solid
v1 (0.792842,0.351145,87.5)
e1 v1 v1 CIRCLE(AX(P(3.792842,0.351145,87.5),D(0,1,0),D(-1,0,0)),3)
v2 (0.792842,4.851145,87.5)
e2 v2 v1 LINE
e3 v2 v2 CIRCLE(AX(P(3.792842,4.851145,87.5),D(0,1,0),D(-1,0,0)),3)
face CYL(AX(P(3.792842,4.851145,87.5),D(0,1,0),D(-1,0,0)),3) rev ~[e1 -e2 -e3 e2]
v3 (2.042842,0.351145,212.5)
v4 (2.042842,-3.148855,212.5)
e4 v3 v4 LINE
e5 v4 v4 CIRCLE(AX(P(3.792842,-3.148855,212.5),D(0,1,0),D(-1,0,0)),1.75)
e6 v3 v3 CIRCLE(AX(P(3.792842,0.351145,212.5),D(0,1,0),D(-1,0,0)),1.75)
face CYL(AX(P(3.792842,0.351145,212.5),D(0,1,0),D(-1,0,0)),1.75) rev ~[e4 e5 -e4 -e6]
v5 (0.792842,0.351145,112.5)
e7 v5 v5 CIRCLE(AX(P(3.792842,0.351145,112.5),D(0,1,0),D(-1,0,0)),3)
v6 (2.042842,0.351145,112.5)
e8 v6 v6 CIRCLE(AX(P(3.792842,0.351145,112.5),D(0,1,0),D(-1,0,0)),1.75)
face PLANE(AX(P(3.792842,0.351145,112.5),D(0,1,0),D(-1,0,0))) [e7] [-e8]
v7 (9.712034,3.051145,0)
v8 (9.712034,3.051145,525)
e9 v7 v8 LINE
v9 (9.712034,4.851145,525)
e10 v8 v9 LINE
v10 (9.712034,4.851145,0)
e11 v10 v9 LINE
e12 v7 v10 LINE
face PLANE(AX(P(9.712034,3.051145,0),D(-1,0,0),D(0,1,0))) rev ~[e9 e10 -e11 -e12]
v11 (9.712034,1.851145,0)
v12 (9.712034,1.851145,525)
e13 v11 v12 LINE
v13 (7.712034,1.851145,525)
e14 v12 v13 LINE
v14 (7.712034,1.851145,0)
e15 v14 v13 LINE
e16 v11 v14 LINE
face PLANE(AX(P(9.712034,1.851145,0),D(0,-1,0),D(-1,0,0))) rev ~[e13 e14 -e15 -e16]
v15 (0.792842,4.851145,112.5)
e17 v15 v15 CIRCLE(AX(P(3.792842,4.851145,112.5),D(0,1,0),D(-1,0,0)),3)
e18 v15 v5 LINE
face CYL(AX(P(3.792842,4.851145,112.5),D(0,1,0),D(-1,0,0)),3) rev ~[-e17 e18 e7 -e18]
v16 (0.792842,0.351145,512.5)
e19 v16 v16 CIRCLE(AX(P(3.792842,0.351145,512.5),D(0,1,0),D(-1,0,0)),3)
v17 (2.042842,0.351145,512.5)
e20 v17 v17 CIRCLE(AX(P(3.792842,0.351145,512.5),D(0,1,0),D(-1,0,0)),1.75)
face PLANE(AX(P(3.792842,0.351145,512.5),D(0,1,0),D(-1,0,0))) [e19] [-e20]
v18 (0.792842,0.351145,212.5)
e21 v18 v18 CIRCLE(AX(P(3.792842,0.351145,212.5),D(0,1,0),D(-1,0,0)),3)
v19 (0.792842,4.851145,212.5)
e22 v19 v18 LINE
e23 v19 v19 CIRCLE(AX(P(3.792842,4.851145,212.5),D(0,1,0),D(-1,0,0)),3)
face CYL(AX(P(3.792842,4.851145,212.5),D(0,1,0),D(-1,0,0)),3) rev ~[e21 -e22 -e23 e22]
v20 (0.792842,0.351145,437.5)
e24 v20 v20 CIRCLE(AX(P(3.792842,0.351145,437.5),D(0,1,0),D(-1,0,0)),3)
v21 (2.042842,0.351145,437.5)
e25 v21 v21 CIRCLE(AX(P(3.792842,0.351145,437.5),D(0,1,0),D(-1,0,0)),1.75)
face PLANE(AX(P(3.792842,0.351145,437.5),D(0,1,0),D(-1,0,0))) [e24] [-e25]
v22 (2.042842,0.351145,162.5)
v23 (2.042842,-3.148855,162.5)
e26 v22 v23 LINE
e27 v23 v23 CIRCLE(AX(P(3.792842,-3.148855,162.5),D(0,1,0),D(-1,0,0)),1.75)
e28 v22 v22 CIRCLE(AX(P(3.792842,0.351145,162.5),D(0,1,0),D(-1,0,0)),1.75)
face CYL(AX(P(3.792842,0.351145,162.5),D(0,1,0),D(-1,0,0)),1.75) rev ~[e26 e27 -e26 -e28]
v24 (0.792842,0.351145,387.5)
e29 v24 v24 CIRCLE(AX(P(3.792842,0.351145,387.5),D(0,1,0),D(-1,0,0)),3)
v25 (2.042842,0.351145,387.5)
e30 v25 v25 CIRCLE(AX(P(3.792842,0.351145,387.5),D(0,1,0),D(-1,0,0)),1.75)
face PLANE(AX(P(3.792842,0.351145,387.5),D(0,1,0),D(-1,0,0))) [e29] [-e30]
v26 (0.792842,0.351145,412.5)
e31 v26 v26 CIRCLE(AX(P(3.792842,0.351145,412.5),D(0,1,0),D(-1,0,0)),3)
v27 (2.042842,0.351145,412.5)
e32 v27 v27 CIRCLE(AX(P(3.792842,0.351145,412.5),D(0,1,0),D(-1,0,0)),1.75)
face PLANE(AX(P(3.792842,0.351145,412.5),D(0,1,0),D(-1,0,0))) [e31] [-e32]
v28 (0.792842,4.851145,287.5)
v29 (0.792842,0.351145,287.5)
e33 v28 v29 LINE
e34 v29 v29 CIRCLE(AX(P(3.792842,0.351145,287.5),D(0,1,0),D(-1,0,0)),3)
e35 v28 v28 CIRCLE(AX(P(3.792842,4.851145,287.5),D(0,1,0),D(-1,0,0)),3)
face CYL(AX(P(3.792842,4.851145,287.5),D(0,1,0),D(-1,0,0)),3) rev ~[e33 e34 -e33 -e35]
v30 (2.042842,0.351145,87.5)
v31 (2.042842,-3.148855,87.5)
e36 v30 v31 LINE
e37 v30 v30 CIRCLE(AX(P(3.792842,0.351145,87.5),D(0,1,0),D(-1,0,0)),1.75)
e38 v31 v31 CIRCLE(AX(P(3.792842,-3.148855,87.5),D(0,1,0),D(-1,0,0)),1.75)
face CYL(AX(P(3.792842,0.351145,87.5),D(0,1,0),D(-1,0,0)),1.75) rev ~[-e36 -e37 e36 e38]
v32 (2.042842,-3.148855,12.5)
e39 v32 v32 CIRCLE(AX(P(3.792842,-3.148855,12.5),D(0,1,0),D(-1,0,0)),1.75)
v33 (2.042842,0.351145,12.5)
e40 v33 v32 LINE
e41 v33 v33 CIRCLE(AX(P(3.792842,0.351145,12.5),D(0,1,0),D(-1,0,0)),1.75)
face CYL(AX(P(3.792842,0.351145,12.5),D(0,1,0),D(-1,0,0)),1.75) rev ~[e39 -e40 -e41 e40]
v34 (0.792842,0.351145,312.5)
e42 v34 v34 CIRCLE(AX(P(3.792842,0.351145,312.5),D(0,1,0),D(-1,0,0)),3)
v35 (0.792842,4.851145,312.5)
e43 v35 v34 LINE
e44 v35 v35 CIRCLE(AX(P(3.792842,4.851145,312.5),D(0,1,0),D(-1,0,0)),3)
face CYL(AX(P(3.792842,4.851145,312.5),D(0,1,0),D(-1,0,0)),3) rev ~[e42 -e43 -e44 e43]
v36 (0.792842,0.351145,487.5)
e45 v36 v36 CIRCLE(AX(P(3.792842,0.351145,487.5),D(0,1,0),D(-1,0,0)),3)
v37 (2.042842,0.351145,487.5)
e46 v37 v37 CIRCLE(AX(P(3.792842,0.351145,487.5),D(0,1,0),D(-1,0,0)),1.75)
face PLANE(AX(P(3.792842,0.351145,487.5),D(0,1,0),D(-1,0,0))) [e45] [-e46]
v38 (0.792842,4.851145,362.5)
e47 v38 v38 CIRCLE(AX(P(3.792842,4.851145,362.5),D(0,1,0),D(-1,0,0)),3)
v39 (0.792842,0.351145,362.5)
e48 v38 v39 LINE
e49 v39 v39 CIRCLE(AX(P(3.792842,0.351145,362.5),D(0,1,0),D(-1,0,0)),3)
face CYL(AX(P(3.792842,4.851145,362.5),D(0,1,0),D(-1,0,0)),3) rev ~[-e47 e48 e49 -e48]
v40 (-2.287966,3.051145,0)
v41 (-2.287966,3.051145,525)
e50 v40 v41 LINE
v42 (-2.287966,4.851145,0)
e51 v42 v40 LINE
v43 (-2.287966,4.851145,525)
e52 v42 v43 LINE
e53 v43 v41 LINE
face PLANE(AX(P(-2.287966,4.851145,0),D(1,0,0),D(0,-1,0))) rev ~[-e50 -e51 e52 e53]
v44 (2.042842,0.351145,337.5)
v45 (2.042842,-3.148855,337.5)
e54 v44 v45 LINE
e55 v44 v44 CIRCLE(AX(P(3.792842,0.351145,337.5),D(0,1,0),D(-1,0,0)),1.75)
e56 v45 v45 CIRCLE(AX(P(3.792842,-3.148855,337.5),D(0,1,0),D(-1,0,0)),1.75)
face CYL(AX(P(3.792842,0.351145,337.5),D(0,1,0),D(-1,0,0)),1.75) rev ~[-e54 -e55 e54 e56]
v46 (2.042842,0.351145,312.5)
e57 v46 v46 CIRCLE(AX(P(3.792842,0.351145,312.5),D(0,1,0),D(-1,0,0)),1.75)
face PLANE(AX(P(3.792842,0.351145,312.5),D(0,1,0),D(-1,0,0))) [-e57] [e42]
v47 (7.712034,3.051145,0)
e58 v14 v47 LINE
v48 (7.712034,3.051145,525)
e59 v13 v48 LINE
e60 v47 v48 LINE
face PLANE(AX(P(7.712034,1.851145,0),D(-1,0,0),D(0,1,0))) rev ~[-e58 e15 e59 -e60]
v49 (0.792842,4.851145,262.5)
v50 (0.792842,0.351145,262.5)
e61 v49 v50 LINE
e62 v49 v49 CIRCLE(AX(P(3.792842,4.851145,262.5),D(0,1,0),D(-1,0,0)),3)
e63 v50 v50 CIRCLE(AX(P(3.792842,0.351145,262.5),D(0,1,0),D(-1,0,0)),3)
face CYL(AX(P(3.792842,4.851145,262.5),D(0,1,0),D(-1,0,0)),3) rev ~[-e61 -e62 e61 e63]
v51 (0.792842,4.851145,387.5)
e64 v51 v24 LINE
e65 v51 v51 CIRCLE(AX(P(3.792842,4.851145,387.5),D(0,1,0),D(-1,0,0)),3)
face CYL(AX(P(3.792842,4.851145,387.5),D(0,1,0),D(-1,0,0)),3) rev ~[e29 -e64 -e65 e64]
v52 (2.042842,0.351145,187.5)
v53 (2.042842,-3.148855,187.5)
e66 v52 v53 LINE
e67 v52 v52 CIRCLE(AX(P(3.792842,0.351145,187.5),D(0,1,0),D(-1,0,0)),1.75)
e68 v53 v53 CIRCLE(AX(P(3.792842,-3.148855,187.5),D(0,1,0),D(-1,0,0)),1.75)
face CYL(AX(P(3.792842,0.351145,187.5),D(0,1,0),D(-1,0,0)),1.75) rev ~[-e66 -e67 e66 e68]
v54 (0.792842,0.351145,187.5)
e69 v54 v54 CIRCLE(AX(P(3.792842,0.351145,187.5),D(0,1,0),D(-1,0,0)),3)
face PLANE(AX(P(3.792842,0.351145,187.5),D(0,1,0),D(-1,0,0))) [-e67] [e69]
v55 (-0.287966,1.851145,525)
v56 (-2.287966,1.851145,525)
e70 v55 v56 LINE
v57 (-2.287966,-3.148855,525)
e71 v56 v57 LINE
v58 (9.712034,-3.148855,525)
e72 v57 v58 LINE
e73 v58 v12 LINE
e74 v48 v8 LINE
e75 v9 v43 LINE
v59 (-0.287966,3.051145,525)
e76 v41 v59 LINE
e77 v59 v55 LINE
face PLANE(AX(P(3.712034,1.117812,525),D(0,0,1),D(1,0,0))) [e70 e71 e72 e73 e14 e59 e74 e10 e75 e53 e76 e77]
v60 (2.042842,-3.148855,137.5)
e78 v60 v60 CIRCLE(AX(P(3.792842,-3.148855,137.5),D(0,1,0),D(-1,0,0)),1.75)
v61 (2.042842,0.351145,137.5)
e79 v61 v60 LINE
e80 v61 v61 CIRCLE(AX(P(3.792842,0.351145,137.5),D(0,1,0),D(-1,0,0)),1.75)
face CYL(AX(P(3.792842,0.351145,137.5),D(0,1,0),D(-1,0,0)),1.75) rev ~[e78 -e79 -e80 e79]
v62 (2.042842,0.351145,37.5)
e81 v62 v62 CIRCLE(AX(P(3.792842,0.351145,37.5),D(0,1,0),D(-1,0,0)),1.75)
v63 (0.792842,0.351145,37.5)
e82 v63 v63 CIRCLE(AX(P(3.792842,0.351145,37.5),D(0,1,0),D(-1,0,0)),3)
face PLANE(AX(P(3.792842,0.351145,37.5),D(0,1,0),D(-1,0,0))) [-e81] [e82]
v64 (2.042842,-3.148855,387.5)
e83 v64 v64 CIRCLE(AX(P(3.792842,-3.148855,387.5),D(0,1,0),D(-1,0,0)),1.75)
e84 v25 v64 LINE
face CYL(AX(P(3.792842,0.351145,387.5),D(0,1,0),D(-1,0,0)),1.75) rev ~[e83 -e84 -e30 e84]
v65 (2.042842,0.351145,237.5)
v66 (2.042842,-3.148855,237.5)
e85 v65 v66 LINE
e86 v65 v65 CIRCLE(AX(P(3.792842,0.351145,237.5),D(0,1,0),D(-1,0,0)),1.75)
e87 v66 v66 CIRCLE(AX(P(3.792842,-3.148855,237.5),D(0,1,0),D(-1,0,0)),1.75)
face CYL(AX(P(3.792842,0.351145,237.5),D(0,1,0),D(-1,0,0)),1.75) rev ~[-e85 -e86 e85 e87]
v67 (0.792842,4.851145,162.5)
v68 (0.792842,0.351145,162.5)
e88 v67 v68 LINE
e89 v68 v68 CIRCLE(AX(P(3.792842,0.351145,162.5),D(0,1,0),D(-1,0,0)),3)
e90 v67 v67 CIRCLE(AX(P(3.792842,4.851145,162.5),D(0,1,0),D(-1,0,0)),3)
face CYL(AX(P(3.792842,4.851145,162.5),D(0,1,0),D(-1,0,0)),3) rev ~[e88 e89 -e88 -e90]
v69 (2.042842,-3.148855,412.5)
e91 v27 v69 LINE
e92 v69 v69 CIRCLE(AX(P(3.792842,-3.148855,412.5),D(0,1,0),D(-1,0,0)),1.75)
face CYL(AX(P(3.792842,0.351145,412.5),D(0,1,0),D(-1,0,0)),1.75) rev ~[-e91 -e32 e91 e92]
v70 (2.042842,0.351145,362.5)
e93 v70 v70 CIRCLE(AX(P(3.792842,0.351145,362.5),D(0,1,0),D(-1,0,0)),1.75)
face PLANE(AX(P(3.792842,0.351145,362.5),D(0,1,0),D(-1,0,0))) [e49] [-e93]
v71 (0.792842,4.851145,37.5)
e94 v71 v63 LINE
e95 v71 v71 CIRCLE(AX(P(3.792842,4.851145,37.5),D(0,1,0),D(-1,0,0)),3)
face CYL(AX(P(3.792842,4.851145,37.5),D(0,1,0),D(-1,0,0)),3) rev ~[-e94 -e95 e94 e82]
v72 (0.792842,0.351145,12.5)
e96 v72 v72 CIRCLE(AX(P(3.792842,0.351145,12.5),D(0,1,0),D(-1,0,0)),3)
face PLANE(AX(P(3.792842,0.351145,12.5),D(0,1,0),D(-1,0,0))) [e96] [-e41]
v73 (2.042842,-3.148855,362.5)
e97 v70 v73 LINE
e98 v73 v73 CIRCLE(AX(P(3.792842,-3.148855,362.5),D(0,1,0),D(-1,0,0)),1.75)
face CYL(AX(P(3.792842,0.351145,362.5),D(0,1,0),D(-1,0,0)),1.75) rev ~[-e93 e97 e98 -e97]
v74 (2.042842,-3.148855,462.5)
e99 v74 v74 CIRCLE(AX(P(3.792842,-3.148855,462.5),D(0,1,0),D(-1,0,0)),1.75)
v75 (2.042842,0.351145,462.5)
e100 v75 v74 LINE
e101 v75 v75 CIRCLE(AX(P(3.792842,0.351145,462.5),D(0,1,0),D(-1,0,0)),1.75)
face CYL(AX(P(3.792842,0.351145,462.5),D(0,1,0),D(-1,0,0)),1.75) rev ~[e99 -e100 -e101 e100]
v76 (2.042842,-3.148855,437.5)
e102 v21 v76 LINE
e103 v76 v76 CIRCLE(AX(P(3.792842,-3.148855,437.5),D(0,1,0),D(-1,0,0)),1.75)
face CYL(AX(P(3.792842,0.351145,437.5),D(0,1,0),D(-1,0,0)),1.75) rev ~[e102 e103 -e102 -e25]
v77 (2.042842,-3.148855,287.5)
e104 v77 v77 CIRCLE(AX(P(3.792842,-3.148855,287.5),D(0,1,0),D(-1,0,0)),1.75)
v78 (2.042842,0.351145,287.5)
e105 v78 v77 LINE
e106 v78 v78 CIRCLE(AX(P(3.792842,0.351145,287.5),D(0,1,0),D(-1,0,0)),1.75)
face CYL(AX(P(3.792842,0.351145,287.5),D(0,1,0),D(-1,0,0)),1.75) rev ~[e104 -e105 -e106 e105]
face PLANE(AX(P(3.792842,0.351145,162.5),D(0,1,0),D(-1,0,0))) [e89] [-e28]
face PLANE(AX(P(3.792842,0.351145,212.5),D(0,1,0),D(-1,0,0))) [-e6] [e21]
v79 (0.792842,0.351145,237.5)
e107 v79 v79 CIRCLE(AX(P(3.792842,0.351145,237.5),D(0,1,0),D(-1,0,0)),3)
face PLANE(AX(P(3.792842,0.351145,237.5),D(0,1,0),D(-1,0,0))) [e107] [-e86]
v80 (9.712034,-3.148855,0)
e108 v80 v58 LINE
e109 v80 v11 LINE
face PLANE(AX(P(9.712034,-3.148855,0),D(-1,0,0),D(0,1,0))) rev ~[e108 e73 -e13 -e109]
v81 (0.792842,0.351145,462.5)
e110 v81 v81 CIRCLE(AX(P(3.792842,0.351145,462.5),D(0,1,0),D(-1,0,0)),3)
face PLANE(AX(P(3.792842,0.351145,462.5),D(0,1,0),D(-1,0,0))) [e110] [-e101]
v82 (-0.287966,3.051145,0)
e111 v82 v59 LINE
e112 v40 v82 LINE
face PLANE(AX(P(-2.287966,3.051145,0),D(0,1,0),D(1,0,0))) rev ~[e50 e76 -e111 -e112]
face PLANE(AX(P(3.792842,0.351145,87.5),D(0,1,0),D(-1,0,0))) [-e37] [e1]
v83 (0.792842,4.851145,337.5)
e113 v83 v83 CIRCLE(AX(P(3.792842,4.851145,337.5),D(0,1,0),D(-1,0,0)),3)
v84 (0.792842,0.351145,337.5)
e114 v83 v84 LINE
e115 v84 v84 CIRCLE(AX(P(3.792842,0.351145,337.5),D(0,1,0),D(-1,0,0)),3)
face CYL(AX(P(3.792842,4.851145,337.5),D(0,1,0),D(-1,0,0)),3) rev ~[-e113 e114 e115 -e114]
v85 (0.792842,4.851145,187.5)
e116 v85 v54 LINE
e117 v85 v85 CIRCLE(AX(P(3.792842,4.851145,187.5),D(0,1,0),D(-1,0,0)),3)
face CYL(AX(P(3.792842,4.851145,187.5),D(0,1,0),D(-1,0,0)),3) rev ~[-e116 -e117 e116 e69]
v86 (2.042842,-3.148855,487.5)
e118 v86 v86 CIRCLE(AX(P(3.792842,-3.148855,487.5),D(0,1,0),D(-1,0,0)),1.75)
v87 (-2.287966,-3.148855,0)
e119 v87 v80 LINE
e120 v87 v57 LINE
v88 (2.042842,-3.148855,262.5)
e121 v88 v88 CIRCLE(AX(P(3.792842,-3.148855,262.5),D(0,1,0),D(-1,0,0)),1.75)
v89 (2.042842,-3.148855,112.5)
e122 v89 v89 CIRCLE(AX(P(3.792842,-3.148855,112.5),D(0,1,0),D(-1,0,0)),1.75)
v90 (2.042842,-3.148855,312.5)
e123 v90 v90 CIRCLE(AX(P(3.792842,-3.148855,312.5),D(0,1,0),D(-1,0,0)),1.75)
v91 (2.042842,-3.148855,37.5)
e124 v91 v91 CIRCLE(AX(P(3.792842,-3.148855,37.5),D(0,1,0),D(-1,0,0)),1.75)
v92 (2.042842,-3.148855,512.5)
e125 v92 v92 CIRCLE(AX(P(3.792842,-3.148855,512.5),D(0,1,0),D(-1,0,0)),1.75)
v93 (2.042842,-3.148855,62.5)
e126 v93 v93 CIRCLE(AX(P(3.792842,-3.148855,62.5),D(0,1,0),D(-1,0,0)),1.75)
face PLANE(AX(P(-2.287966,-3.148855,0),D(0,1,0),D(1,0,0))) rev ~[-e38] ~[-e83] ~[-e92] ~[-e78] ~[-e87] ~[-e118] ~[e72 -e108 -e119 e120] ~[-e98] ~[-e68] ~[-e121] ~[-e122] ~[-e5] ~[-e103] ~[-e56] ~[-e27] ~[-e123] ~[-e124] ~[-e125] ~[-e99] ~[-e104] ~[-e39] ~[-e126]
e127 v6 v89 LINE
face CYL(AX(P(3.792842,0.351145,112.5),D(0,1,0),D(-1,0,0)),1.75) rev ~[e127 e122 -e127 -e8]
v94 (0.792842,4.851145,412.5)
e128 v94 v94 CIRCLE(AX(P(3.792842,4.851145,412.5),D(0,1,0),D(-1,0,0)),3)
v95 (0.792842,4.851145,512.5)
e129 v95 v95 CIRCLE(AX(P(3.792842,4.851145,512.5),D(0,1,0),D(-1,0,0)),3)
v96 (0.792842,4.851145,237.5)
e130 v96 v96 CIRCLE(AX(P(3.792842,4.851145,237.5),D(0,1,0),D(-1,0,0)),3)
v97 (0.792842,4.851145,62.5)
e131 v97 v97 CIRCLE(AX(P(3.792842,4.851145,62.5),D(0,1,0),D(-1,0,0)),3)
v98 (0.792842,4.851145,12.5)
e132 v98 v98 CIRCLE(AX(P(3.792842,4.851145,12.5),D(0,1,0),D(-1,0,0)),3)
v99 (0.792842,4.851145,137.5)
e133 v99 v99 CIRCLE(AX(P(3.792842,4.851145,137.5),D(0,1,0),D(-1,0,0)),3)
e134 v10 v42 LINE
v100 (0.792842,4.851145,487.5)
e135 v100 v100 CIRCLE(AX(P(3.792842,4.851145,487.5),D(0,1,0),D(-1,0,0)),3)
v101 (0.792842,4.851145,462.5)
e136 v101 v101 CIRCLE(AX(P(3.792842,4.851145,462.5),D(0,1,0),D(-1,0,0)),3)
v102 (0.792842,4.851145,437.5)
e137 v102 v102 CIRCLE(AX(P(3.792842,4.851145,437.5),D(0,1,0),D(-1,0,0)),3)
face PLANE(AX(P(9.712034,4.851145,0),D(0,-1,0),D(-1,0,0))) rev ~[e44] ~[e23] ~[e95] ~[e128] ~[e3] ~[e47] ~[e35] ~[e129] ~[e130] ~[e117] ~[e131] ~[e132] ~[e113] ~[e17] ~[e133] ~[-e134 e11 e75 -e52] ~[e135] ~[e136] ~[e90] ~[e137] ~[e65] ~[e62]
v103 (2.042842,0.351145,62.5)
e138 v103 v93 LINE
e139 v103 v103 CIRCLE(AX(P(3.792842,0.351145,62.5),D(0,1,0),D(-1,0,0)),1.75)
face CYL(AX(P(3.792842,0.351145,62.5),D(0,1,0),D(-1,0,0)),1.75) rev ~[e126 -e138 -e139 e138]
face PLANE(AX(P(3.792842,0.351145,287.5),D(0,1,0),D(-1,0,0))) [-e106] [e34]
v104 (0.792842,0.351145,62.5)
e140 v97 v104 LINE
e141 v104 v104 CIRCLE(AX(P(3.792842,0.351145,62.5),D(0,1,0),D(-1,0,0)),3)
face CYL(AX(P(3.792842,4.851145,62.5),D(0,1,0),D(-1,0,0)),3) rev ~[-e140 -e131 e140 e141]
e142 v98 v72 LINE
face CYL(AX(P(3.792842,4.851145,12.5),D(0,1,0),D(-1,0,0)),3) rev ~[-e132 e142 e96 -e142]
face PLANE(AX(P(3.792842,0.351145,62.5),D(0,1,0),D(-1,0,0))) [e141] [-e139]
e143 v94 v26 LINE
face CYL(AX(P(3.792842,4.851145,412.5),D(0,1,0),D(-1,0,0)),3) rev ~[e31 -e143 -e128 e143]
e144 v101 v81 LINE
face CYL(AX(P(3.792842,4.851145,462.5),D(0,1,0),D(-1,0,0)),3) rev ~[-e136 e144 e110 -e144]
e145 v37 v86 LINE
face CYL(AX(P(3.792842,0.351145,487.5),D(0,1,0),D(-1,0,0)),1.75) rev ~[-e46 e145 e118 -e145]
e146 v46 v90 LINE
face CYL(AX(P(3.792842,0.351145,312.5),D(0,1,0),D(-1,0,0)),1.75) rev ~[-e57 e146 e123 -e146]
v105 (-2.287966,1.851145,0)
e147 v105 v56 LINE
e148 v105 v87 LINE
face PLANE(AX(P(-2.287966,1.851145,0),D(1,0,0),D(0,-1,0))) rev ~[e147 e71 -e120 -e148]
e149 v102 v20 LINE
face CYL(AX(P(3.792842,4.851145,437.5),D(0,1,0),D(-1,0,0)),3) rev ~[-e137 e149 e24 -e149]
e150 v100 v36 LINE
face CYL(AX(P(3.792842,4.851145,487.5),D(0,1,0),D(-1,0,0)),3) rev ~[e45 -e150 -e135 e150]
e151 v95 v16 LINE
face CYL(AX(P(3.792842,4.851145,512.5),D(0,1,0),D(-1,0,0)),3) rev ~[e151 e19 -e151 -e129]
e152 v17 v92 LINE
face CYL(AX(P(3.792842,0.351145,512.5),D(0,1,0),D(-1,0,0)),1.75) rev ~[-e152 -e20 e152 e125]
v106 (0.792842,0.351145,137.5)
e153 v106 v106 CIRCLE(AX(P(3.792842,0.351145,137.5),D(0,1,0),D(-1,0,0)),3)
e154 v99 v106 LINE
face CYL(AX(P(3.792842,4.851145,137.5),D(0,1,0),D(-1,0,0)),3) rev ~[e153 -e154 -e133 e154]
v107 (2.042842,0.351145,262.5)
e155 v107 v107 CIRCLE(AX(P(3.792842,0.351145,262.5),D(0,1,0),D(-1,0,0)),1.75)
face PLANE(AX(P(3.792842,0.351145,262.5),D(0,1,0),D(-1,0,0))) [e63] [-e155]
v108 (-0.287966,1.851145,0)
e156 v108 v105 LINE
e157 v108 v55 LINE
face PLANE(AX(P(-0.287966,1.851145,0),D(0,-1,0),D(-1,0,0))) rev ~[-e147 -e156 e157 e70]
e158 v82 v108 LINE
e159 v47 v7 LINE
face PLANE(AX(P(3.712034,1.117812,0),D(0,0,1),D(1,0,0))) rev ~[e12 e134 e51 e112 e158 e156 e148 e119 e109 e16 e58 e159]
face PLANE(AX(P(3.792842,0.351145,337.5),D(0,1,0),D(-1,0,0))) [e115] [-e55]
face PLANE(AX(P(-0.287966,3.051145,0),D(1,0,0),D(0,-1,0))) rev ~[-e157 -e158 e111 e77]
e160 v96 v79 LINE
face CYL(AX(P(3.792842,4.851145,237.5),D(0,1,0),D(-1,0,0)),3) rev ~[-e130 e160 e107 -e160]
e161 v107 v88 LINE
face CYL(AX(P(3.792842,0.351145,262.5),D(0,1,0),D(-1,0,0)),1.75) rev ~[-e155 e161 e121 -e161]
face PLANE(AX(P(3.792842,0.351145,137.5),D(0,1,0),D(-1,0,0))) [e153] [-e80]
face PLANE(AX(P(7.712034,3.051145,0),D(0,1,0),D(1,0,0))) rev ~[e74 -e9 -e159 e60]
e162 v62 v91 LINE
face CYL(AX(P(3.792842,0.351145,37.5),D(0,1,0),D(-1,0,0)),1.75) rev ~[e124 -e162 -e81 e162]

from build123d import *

# Parameters (mm, degrees)
BOSS_EXTRU_1_DEPTH      = 525
ESQUISSE2_R             = 3
ENL_V_MAT_EXTRU_1_DEPTH = 4.5
ENL_V_MAT_EXTRU_2_REACH = 527.109
ESQUISSE3_R             = 1.75


with BuildPart() as part:
    # Esquisse1 → Boss.-Extru.1 (new body)
    with BuildSketch(Plane.XY):
        Polygon((-2.287966089, -3.148854962), (9.712033911, -3.148854962), (9.712033911, 1.851145038), (7.712033911, 1.851145038), (7.712033911, 3.051145038), (9.712033911, 3.051145038), (9.712033911, 4.851145038), (-2.287966089, 4.851145038), (-2.287966089, 3.051145038), (-0.287966089, 3.051145038), (-0.287966089, 1.851145038), (-2.287966089, 1.851145038), align=None)
    extrude(amount=BOSS_EXTRU_1_DEPTH)

    # Esquisse2 → Enlèv. mat.-Extru.1 (cut)
    with BuildSketch(Plane(origin=(0, 4.851145038, 0), x_dir=(1, 0, 0), z_dir=(0, 1, 0))):
        with Locations(Location((3.792841972, -512.5, 0), (0, 0, 180))):
            Circle(ESQUISSE2_R)
        with Locations(Location((3.792841972, -487.5, 0), (0, 0, 180))):
            Circle(ESQUISSE2_R)
        with Locations(Location((3.792841972, -462.5, 0), (0, 0, 180))):
            Circle(ESQUISSE2_R)
        with Locations(Location((3.792841972, -437.5, 0), (0, 0, 180))):
            Circle(ESQUISSE2_R)
        with Locations(Location((3.792841972, -412.5, 0), (0, 0, 180))):
            Circle(ESQUISSE2_R)
        with Locations(Location((3.792841972, -387.5, 0), (0, 0, 180))):
            Circle(ESQUISSE2_R)
        with Locations(Location((3.792841972, -362.5, 0), (0, 0, 180))):
            Circle(ESQUISSE2_R)
        with Locations(Location((3.792841972, -337.5, 0), (0, 0, 180))):
            Circle(ESQUISSE2_R)
        with Locations(Location((3.792841972, -312.5, 0), (0, 0, 180))):
            Circle(ESQUISSE2_R)
        with Locations(Location((3.792841972, -287.5, 0), (0, 0, 180))):
            Circle(ESQUISSE2_R)
        with Locations(Location((3.792841972, -262.5, 0), (0, 0, 180))):
            Circle(ESQUISSE2_R)
        with Locations(Location((3.792841972, -237.5, 0), (0, 0, 180))):
            Circle(ESQUISSE2_R)
        with Locations(Location((3.792841972, -212.5, 0), (0, 0, 180))):
            Circle(ESQUISSE2_R)
        with Locations(Location((3.792841972, -187.5, 0), (0, 0, 180))):
            Circle(ESQUISSE2_R)
        with Locations(Location((3.792841972, -162.5, 0), (0, 0, 180))):
            Circle(ESQUISSE2_R)
        with Locations(Location((3.792841972, -137.5, 0), (0, 0, 180))):
            Circle(ESQUISSE2_R)
        with Locations(Location((3.792841972, -112.5, 0), (0, 0, 180))):
            Circle(ESQUISSE2_R)
        with Locations(Location((3.792841972, -87.5, 0), (0, 0, 180))):
            Circle(ESQUISSE2_R)
        with Locations(Location((3.792841972, -62.5, 0), (0, 0, 180))):
            Circle(ESQUISSE2_R)
        with Locations(Location((3.792841972, -37.5, 0), (0, 0, 180))):
            Circle(ESQUISSE2_R)
        with Locations(Location((3.792841972, -12.5, 0), (0, 0, 180))):
            Circle(ESQUISSE2_R)
    extrude(amount=-ENL_V_MAT_EXTRU_1_DEPTH, mode=Mode.SUBTRACT)

    # Esquisse3 → Enlèv. mat.-Extru.2 (cut, up to next)
    with BuildSketch(Plane(origin=(0, 0.351145038, 0), x_dir=(1, 0, 0), z_dir=(0, 1, 0)), mode=Mode.PRIVATE) as enl_v_mat_extru_2_sk1:
        with Locations(Location((3.792841972, -512.5, 0), (0, 0, 180))):
            Circle(ESQUISSE3_R)
    enl_v_mat_extru_2_tool1 = extrude(enl_v_mat_extru_2_sk1.sketch, amount=-ENL_V_MAT_EXTRU_2_REACH, mode=Mode.PRIVATE) & part.part
    # Esquisse3 → Enlèv. mat.-Extru.2 (cut, up to next)
    with BuildSketch(Plane(origin=(0, 0.351145038, 0), x_dir=(1, 0, 0), z_dir=(0, 1, 0)), mode=Mode.PRIVATE) as enl_v_mat_extru_2_sk2:
        with Locations(Location((3.792841972, -487.5, 0), (0, 0, 180))):
            Circle(ESQUISSE3_R)
    enl_v_mat_extru_2_tool2 = extrude(enl_v_mat_extru_2_sk2.sketch, amount=-ENL_V_MAT_EXTRU_2_REACH, mode=Mode.PRIVATE) & part.part
    # Esquisse3 → Enlèv. mat.-Extru.2 (cut, up to next)
    with BuildSketch(Plane(origin=(0, 0.351145038, 0), x_dir=(1, 0, 0), z_dir=(0, 1, 0)), mode=Mode.PRIVATE) as enl_v_mat_extru_2_sk3:
        with Locations(Location((3.792841972, -462.5, 0), (0, 0, 180))):
            Circle(ESQUISSE3_R)
    enl_v_mat_extru_2_tool3 = extrude(enl_v_mat_extru_2_sk3.sketch, amount=-ENL_V_MAT_EXTRU_2_REACH, mode=Mode.PRIVATE) & part.part
    # Esquisse3 → Enlèv. mat.-Extru.2 (cut, up to next)
    with BuildSketch(Plane(origin=(0, 0.351145038, 0), x_dir=(1, 0, 0), z_dir=(0, 1, 0)), mode=Mode.PRIVATE) as enl_v_mat_extru_2_sk4:
        with Locations(Location((3.792841972, -437.5, 0), (0, 0, 180))):
            Circle(ESQUISSE3_R)
    enl_v_mat_extru_2_tool4 = extrude(enl_v_mat_extru_2_sk4.sketch, amount=-ENL_V_MAT_EXTRU_2_REACH, mode=Mode.PRIVATE) & part.part
    # Esquisse3 → Enlèv. mat.-Extru.2 (cut, up to next)
    with BuildSketch(Plane(origin=(0, 0.351145038, 0), x_dir=(1, 0, 0), z_dir=(0, 1, 0)), mode=Mode.PRIVATE) as enl_v_mat_extru_2_sk5:
        with Locations(Location((3.792841972, -412.5, 0), (0, 0, 180))):
            Circle(ESQUISSE3_R)
    enl_v_mat_extru_2_tool5 = extrude(enl_v_mat_extru_2_sk5.sketch, amount=-ENL_V_MAT_EXTRU_2_REACH, mode=Mode.PRIVATE) & part.part
    # Esquisse3 → Enlèv. mat.-Extru.2 (cut, up to next)
    with BuildSketch(Plane(origin=(0, 0.351145038, 0), x_dir=(1, 0, 0), z_dir=(0, 1, 0)), mode=Mode.PRIVATE) as enl_v_mat_extru_2_sk6:
        with Locations(Location((3.792841972, -387.5, 0), (0, 0, 180))):
            Circle(ESQUISSE3_R)
    enl_v_mat_extru_2_tool6 = extrude(enl_v_mat_extru_2_sk6.sketch, amount=-ENL_V_MAT_EXTRU_2_REACH, mode=Mode.PRIVATE) & part.part
    # Esquisse3 → Enlèv. mat.-Extru.2 (cut, up to next)
    with BuildSketch(Plane(origin=(0, 0.351145038, 0), x_dir=(1, 0, 0), z_dir=(0, 1, 0)), mode=Mode.PRIVATE) as enl_v_mat_extru_2_sk7:
        with Locations(Location((3.792841972, -362.5, 0), (0, 0, 180))):
            Circle(ESQUISSE3_R)
    enl_v_mat_extru_2_tool7 = extrude(enl_v_mat_extru_2_sk7.sketch, amount=-ENL_V_MAT_EXTRU_2_REACH, mode=Mode.PRIVATE) & part.part
    # Esquisse3 → Enlèv. mat.-Extru.2 (cut, up to next)
    with BuildSketch(Plane(origin=(0, 0.351145038, 0), x_dir=(1, 0, 0), z_dir=(0, 1, 0)), mode=Mode.PRIVATE) as enl_v_mat_extru_2_sk8:
        with Locations(Location((3.792841972, -337.5, 0), (0, 0, 180))):
            Circle(ESQUISSE3_R)
    enl_v_mat_extru_2_tool8 = extrude(enl_v_mat_extru_2_sk8.sketch, amount=-ENL_V_MAT_EXTRU_2_REACH, mode=Mode.PRIVATE) & part.part
    # Esquisse3 → Enlèv. mat.-Extru.2 (cut, up to next)
    with BuildSketch(Plane(origin=(0, 0.351145038, 0), x_dir=(1, 0, 0), z_dir=(0, 1, 0)), mode=Mode.PRIVATE) as enl_v_mat_extru_2_sk9:
        with Locations(Location((3.792841972, -312.5, 0), (0, 0, 180))):
            Circle(ESQUISSE3_R)
    enl_v_mat_extru_2_tool9 = extrude(enl_v_mat_extru_2_sk9.sketch, amount=-ENL_V_MAT_EXTRU_2_REACH, mode=Mode.PRIVATE) & part.part
    # Esquisse3 → Enlèv. mat.-Extru.2 (cut, up to next)
    with BuildSketch(Plane(origin=(0, 0.351145038, 0), x_dir=(1, 0, 0), z_dir=(0, 1, 0)), mode=Mode.PRIVATE) as enl_v_mat_extru_2_sk10:
        with Locations(Location((3.792841972, -287.5, 0), (0, 0, 180))):
            Circle(ESQUISSE3_R)
    enl_v_mat_extru_2_tool10 = extrude(enl_v_mat_extru_2_sk10.sketch, amount=-ENL_V_MAT_EXTRU_2_REACH, mode=Mode.PRIVATE) & part.part
    # Esquisse3 → Enlèv. mat.-Extru.2 (cut, up to next)
    with BuildSketch(Plane(origin=(0, 0.351145038, 0), x_dir=(1, 0, 0), z_dir=(0, 1, 0)), mode=Mode.PRIVATE) as enl_v_mat_extru_2_sk11:
        with Locations(Location((3.792841972, -262.5, 0), (0, 0, 180))):
            Circle(ESQUISSE3_R)
    enl_v_mat_extru_2_tool11 = extrude(enl_v_mat_extru_2_sk11.sketch, amount=-ENL_V_MAT_EXTRU_2_REACH, mode=Mode.PRIVATE) & part.part
    # Esquisse3 → Enlèv. mat.-Extru.2 (cut, up to next)
    with BuildSketch(Plane(origin=(0, 0.351145038, 0), x_dir=(1, 0, 0), z_dir=(0, 1, 0)), mode=Mode.PRIVATE) as enl_v_mat_extru_2_sk12:
        with Locations(Location((3.792841972, -237.5, 0), (0, 0, 180))):
            Circle(ESQUISSE3_R)
    enl_v_mat_extru_2_tool12 = extrude(enl_v_mat_extru_2_sk12.sketch, amount=-ENL_V_MAT_EXTRU_2_REACH, mode=Mode.PRIVATE) & part.part
    # Esquisse3 → Enlèv. mat.-Extru.2 (cut, up to next)
    with BuildSketch(Plane(origin=(0, 0.351145038, 0), x_dir=(1, 0, 0), z_dir=(0, 1, 0)), mode=Mode.PRIVATE) as enl_v_mat_extru_2_sk13:
        with Locations(Location((3.792841972, -212.5, 0), (0, 0, 180))):
            Circle(ESQUISSE3_R)
    enl_v_mat_extru_2_tool13 = extrude(enl_v_mat_extru_2_sk13.sketch, amount=-ENL_V_MAT_EXTRU_2_REACH, mode=Mode.PRIVATE) & part.part
    # Esquisse3 → Enlèv. mat.-Extru.2 (cut, up to next)
    with BuildSketch(Plane(origin=(0, 0.351145038, 0), x_dir=(1, 0, 0), z_dir=(0, 1, 0)), mode=Mode.PRIVATE) as enl_v_mat_extru_2_sk14:
        with Locations(Location((3.792841972, -187.5, 0), (0, 0, 180))):
            Circle(ESQUISSE3_R)
    enl_v_mat_extru_2_tool14 = extrude(enl_v_mat_extru_2_sk14.sketch, amount=-ENL_V_MAT_EXTRU_2_REACH, mode=Mode.PRIVATE) & part.part
    # Esquisse3 → Enlèv. mat.-Extru.2 (cut, up to next)
    with BuildSketch(Plane(origin=(0, 0.351145038, 0), x_dir=(1, 0, 0), z_dir=(0, 1, 0)), mode=Mode.PRIVATE) as enl_v_mat_extru_2_sk15:
        with Locations(Location((3.792841972, -162.5, 0), (0, 0, 180))):
            Circle(ESQUISSE3_R)
    enl_v_mat_extru_2_tool15 = extrude(enl_v_mat_extru_2_sk15.sketch, amount=-ENL_V_MAT_EXTRU_2_REACH, mode=Mode.PRIVATE) & part.part
    # Esquisse3 → Enlèv. mat.-Extru.2 (cut, up to next)
    with BuildSketch(Plane(origin=(0, 0.351145038, 0), x_dir=(1, 0, 0), z_dir=(0, 1, 0)), mode=Mode.PRIVATE) as enl_v_mat_extru_2_sk16:
        with Locations(Location((3.792841972, -137.5, 0), (0, 0, 180))):
            Circle(ESQUISSE3_R)
    enl_v_mat_extru_2_tool16 = extrude(enl_v_mat_extru_2_sk16.sketch, amount=-ENL_V_MAT_EXTRU_2_REACH, mode=Mode.PRIVATE) & part.part
    # Esquisse3 → Enlèv. mat.-Extru.2 (cut, up to next)
    with BuildSketch(Plane(origin=(0, 0.351145038, 0), x_dir=(1, 0, 0), z_dir=(0, 1, 0)), mode=Mode.PRIVATE) as enl_v_mat_extru_2_sk17:
        with Locations(Location((3.792841972, -112.5, 0), (0, 0, 180))):
            Circle(ESQUISSE3_R)
    enl_v_mat_extru_2_tool17 = extrude(enl_v_mat_extru_2_sk17.sketch, amount=-ENL_V_MAT_EXTRU_2_REACH, mode=Mode.PRIVATE) & part.part
    # Esquisse3 → Enlèv. mat.-Extru.2 (cut, up to next)
    with BuildSketch(Plane(origin=(0, 0.351145038, 0), x_dir=(1, 0, 0), z_dir=(0, 1, 0)), mode=Mode.PRIVATE) as enl_v_mat_extru_2_sk18:
        with Locations(Location((3.792841972, -87.5, 0), (0, 0, 180))):
            Circle(ESQUISSE3_R)
    enl_v_mat_extru_2_tool18 = extrude(enl_v_mat_extru_2_sk18.sketch, amount=-ENL_V_MAT_EXTRU_2_REACH, mode=Mode.PRIVATE) & part.part
    # Esquisse3 → Enlèv. mat.-Extru.2 (cut, up to next)
    with BuildSketch(Plane(origin=(0, 0.351145038, 0), x_dir=(1, 0, 0), z_dir=(0, 1, 0)), mode=Mode.PRIVATE) as enl_v_mat_extru_2_sk19:
        with Locations(Location((3.792841972, -62.5, 0), (0, 0, 180))):
            Circle(ESQUISSE3_R)
    enl_v_mat_extru_2_tool19 = extrude(enl_v_mat_extru_2_sk19.sketch, amount=-ENL_V_MAT_EXTRU_2_REACH, mode=Mode.PRIVATE) & part.part
    # Esquisse3 → Enlèv. mat.-Extru.2 (cut, up to next)
    with BuildSketch(Plane(origin=(0, 0.351145038, 0), x_dir=(1, 0, 0), z_dir=(0, 1, 0)), mode=Mode.PRIVATE) as enl_v_mat_extru_2_sk20:
        with Locations(Location((3.792841972, -37.5, 0), (0, 0, 180))):
            Circle(ESQUISSE3_R)
    enl_v_mat_extru_2_tool20 = extrude(enl_v_mat_extru_2_sk20.sketch, amount=-ENL_V_MAT_EXTRU_2_REACH, mode=Mode.PRIVATE) & part.part
    # Esquisse3 → Enlèv. mat.-Extru.2 (cut, up to next)
    with BuildSketch(Plane(origin=(0, 0.351145038, 0), x_dir=(1, 0, 0), z_dir=(0, 1, 0)), mode=Mode.PRIVATE) as enl_v_mat_extru_2_sk21:
        with Locations(Location((3.792841972, -12.5, 0), (0, 0, 180))):
            Circle(ESQUISSE3_R)
    enl_v_mat_extru_2_tool21 = extrude(enl_v_mat_extru_2_sk21.sketch, amount=-ENL_V_MAT_EXTRU_2_REACH, mode=Mode.PRIVATE) & part.part
    add(enl_v_mat_extru_2_tool1.solids().sort_by_distance((3.792842, 0.351145, 512.5))[0], mode=Mode.SUBTRACT)
    add(enl_v_mat_extru_2_tool2.solids().sort_by_distance((3.792842, 0.351145, 487.5))[0], mode=Mode.SUBTRACT)
    add(enl_v_mat_extru_2_tool3.solids().sort_by_distance((3.792842, 0.351145, 462.5))[0], mode=Mode.SUBTRACT)
    add(enl_v_mat_extru_2_tool4.solids().sort_by_distance((3.792842, 0.351145, 437.5))[0], mode=Mode.SUBTRACT)
    add(enl_v_mat_extru_2_tool5.solids().sort_by_distance((3.792842, 0.351145, 412.5))[0], mode=Mode.SUBTRACT)
    add(enl_v_mat_extru_2_tool6.solids().sort_by_distance((3.792842, 0.351145, 387.5))[0], mode=Mode.SUBTRACT)
    add(enl_v_mat_extru_2_tool7.solids().sort_by_distance((3.792842, 0.351145, 362.5))[0], mode=Mode.SUBTRACT)
    add(enl_v_mat_extru_2_tool8.solids().sort_by_distance((3.792842, 0.351145, 337.5))[0], mode=Mode.SUBTRACT)
    add(enl_v_mat_extru_2_tool9.solids().sort_by_distance((3.792842, 0.351145, 312.5))[0], mode=Mode.SUBTRACT)
    add(enl_v_mat_extru_2_tool10.solids().sort_by_distance((3.792842, 0.351145, 287.5))[0], mode=Mode.SUBTRACT)
    add(enl_v_mat_extru_2_tool11.solids().sort_by_distance((3.792842, 0.351145, 262.5))[0], mode=Mode.SUBTRACT)
    add(enl_v_mat_extru_2_tool12.solids().sort_by_distance((3.792842, 0.351145, 237.5))[0], mode=Mode.SUBTRACT)
    add(enl_v_mat_extru_2_tool13.solids().sort_by_distance((3.792842, 0.351145, 212.5))[0], mode=Mode.SUBTRACT)
    add(enl_v_mat_extru_2_tool14.solids().sort_by_distance((3.792842, 0.351145, 187.5))[0], mode=Mode.SUBTRACT)
    add(enl_v_mat_extru_2_tool15.solids().sort_by_distance((3.792842, 0.351145, 162.5))[0], mode=Mode.SUBTRACT)
    add(enl_v_mat_extru_2_tool16.solids().sort_by_distance((3.792842, 0.351145, 137.5))[0], mode=Mode.SUBTRACT)
    add(enl_v_mat_extru_2_tool17.solids().sort_by_distance((3.792842, 0.351145, 112.5))[0], mode=Mode.SUBTRACT)
    add(enl_v_mat_extru_2_tool18.solids().sort_by_distance((3.792842, 0.351145, 87.5))[0], mode=Mode.SUBTRACT)
    add(enl_v_mat_extru_2_tool19.solids().sort_by_distance((3.792842, 0.351145, 62.5))[0], mode=Mode.SUBTRACT)
    add(enl_v_mat_extru_2_tool20.solids().sort_by_distance((3.792842, 0.351145, 37.5))[0], mode=Mode.SUBTRACT)
    add(enl_v_mat_extru_2_tool21.solids().sort_by_distance((3.792842, 0.351145, 12.5))[0], mode=Mode.SUBTRACT)


solid = part.part
